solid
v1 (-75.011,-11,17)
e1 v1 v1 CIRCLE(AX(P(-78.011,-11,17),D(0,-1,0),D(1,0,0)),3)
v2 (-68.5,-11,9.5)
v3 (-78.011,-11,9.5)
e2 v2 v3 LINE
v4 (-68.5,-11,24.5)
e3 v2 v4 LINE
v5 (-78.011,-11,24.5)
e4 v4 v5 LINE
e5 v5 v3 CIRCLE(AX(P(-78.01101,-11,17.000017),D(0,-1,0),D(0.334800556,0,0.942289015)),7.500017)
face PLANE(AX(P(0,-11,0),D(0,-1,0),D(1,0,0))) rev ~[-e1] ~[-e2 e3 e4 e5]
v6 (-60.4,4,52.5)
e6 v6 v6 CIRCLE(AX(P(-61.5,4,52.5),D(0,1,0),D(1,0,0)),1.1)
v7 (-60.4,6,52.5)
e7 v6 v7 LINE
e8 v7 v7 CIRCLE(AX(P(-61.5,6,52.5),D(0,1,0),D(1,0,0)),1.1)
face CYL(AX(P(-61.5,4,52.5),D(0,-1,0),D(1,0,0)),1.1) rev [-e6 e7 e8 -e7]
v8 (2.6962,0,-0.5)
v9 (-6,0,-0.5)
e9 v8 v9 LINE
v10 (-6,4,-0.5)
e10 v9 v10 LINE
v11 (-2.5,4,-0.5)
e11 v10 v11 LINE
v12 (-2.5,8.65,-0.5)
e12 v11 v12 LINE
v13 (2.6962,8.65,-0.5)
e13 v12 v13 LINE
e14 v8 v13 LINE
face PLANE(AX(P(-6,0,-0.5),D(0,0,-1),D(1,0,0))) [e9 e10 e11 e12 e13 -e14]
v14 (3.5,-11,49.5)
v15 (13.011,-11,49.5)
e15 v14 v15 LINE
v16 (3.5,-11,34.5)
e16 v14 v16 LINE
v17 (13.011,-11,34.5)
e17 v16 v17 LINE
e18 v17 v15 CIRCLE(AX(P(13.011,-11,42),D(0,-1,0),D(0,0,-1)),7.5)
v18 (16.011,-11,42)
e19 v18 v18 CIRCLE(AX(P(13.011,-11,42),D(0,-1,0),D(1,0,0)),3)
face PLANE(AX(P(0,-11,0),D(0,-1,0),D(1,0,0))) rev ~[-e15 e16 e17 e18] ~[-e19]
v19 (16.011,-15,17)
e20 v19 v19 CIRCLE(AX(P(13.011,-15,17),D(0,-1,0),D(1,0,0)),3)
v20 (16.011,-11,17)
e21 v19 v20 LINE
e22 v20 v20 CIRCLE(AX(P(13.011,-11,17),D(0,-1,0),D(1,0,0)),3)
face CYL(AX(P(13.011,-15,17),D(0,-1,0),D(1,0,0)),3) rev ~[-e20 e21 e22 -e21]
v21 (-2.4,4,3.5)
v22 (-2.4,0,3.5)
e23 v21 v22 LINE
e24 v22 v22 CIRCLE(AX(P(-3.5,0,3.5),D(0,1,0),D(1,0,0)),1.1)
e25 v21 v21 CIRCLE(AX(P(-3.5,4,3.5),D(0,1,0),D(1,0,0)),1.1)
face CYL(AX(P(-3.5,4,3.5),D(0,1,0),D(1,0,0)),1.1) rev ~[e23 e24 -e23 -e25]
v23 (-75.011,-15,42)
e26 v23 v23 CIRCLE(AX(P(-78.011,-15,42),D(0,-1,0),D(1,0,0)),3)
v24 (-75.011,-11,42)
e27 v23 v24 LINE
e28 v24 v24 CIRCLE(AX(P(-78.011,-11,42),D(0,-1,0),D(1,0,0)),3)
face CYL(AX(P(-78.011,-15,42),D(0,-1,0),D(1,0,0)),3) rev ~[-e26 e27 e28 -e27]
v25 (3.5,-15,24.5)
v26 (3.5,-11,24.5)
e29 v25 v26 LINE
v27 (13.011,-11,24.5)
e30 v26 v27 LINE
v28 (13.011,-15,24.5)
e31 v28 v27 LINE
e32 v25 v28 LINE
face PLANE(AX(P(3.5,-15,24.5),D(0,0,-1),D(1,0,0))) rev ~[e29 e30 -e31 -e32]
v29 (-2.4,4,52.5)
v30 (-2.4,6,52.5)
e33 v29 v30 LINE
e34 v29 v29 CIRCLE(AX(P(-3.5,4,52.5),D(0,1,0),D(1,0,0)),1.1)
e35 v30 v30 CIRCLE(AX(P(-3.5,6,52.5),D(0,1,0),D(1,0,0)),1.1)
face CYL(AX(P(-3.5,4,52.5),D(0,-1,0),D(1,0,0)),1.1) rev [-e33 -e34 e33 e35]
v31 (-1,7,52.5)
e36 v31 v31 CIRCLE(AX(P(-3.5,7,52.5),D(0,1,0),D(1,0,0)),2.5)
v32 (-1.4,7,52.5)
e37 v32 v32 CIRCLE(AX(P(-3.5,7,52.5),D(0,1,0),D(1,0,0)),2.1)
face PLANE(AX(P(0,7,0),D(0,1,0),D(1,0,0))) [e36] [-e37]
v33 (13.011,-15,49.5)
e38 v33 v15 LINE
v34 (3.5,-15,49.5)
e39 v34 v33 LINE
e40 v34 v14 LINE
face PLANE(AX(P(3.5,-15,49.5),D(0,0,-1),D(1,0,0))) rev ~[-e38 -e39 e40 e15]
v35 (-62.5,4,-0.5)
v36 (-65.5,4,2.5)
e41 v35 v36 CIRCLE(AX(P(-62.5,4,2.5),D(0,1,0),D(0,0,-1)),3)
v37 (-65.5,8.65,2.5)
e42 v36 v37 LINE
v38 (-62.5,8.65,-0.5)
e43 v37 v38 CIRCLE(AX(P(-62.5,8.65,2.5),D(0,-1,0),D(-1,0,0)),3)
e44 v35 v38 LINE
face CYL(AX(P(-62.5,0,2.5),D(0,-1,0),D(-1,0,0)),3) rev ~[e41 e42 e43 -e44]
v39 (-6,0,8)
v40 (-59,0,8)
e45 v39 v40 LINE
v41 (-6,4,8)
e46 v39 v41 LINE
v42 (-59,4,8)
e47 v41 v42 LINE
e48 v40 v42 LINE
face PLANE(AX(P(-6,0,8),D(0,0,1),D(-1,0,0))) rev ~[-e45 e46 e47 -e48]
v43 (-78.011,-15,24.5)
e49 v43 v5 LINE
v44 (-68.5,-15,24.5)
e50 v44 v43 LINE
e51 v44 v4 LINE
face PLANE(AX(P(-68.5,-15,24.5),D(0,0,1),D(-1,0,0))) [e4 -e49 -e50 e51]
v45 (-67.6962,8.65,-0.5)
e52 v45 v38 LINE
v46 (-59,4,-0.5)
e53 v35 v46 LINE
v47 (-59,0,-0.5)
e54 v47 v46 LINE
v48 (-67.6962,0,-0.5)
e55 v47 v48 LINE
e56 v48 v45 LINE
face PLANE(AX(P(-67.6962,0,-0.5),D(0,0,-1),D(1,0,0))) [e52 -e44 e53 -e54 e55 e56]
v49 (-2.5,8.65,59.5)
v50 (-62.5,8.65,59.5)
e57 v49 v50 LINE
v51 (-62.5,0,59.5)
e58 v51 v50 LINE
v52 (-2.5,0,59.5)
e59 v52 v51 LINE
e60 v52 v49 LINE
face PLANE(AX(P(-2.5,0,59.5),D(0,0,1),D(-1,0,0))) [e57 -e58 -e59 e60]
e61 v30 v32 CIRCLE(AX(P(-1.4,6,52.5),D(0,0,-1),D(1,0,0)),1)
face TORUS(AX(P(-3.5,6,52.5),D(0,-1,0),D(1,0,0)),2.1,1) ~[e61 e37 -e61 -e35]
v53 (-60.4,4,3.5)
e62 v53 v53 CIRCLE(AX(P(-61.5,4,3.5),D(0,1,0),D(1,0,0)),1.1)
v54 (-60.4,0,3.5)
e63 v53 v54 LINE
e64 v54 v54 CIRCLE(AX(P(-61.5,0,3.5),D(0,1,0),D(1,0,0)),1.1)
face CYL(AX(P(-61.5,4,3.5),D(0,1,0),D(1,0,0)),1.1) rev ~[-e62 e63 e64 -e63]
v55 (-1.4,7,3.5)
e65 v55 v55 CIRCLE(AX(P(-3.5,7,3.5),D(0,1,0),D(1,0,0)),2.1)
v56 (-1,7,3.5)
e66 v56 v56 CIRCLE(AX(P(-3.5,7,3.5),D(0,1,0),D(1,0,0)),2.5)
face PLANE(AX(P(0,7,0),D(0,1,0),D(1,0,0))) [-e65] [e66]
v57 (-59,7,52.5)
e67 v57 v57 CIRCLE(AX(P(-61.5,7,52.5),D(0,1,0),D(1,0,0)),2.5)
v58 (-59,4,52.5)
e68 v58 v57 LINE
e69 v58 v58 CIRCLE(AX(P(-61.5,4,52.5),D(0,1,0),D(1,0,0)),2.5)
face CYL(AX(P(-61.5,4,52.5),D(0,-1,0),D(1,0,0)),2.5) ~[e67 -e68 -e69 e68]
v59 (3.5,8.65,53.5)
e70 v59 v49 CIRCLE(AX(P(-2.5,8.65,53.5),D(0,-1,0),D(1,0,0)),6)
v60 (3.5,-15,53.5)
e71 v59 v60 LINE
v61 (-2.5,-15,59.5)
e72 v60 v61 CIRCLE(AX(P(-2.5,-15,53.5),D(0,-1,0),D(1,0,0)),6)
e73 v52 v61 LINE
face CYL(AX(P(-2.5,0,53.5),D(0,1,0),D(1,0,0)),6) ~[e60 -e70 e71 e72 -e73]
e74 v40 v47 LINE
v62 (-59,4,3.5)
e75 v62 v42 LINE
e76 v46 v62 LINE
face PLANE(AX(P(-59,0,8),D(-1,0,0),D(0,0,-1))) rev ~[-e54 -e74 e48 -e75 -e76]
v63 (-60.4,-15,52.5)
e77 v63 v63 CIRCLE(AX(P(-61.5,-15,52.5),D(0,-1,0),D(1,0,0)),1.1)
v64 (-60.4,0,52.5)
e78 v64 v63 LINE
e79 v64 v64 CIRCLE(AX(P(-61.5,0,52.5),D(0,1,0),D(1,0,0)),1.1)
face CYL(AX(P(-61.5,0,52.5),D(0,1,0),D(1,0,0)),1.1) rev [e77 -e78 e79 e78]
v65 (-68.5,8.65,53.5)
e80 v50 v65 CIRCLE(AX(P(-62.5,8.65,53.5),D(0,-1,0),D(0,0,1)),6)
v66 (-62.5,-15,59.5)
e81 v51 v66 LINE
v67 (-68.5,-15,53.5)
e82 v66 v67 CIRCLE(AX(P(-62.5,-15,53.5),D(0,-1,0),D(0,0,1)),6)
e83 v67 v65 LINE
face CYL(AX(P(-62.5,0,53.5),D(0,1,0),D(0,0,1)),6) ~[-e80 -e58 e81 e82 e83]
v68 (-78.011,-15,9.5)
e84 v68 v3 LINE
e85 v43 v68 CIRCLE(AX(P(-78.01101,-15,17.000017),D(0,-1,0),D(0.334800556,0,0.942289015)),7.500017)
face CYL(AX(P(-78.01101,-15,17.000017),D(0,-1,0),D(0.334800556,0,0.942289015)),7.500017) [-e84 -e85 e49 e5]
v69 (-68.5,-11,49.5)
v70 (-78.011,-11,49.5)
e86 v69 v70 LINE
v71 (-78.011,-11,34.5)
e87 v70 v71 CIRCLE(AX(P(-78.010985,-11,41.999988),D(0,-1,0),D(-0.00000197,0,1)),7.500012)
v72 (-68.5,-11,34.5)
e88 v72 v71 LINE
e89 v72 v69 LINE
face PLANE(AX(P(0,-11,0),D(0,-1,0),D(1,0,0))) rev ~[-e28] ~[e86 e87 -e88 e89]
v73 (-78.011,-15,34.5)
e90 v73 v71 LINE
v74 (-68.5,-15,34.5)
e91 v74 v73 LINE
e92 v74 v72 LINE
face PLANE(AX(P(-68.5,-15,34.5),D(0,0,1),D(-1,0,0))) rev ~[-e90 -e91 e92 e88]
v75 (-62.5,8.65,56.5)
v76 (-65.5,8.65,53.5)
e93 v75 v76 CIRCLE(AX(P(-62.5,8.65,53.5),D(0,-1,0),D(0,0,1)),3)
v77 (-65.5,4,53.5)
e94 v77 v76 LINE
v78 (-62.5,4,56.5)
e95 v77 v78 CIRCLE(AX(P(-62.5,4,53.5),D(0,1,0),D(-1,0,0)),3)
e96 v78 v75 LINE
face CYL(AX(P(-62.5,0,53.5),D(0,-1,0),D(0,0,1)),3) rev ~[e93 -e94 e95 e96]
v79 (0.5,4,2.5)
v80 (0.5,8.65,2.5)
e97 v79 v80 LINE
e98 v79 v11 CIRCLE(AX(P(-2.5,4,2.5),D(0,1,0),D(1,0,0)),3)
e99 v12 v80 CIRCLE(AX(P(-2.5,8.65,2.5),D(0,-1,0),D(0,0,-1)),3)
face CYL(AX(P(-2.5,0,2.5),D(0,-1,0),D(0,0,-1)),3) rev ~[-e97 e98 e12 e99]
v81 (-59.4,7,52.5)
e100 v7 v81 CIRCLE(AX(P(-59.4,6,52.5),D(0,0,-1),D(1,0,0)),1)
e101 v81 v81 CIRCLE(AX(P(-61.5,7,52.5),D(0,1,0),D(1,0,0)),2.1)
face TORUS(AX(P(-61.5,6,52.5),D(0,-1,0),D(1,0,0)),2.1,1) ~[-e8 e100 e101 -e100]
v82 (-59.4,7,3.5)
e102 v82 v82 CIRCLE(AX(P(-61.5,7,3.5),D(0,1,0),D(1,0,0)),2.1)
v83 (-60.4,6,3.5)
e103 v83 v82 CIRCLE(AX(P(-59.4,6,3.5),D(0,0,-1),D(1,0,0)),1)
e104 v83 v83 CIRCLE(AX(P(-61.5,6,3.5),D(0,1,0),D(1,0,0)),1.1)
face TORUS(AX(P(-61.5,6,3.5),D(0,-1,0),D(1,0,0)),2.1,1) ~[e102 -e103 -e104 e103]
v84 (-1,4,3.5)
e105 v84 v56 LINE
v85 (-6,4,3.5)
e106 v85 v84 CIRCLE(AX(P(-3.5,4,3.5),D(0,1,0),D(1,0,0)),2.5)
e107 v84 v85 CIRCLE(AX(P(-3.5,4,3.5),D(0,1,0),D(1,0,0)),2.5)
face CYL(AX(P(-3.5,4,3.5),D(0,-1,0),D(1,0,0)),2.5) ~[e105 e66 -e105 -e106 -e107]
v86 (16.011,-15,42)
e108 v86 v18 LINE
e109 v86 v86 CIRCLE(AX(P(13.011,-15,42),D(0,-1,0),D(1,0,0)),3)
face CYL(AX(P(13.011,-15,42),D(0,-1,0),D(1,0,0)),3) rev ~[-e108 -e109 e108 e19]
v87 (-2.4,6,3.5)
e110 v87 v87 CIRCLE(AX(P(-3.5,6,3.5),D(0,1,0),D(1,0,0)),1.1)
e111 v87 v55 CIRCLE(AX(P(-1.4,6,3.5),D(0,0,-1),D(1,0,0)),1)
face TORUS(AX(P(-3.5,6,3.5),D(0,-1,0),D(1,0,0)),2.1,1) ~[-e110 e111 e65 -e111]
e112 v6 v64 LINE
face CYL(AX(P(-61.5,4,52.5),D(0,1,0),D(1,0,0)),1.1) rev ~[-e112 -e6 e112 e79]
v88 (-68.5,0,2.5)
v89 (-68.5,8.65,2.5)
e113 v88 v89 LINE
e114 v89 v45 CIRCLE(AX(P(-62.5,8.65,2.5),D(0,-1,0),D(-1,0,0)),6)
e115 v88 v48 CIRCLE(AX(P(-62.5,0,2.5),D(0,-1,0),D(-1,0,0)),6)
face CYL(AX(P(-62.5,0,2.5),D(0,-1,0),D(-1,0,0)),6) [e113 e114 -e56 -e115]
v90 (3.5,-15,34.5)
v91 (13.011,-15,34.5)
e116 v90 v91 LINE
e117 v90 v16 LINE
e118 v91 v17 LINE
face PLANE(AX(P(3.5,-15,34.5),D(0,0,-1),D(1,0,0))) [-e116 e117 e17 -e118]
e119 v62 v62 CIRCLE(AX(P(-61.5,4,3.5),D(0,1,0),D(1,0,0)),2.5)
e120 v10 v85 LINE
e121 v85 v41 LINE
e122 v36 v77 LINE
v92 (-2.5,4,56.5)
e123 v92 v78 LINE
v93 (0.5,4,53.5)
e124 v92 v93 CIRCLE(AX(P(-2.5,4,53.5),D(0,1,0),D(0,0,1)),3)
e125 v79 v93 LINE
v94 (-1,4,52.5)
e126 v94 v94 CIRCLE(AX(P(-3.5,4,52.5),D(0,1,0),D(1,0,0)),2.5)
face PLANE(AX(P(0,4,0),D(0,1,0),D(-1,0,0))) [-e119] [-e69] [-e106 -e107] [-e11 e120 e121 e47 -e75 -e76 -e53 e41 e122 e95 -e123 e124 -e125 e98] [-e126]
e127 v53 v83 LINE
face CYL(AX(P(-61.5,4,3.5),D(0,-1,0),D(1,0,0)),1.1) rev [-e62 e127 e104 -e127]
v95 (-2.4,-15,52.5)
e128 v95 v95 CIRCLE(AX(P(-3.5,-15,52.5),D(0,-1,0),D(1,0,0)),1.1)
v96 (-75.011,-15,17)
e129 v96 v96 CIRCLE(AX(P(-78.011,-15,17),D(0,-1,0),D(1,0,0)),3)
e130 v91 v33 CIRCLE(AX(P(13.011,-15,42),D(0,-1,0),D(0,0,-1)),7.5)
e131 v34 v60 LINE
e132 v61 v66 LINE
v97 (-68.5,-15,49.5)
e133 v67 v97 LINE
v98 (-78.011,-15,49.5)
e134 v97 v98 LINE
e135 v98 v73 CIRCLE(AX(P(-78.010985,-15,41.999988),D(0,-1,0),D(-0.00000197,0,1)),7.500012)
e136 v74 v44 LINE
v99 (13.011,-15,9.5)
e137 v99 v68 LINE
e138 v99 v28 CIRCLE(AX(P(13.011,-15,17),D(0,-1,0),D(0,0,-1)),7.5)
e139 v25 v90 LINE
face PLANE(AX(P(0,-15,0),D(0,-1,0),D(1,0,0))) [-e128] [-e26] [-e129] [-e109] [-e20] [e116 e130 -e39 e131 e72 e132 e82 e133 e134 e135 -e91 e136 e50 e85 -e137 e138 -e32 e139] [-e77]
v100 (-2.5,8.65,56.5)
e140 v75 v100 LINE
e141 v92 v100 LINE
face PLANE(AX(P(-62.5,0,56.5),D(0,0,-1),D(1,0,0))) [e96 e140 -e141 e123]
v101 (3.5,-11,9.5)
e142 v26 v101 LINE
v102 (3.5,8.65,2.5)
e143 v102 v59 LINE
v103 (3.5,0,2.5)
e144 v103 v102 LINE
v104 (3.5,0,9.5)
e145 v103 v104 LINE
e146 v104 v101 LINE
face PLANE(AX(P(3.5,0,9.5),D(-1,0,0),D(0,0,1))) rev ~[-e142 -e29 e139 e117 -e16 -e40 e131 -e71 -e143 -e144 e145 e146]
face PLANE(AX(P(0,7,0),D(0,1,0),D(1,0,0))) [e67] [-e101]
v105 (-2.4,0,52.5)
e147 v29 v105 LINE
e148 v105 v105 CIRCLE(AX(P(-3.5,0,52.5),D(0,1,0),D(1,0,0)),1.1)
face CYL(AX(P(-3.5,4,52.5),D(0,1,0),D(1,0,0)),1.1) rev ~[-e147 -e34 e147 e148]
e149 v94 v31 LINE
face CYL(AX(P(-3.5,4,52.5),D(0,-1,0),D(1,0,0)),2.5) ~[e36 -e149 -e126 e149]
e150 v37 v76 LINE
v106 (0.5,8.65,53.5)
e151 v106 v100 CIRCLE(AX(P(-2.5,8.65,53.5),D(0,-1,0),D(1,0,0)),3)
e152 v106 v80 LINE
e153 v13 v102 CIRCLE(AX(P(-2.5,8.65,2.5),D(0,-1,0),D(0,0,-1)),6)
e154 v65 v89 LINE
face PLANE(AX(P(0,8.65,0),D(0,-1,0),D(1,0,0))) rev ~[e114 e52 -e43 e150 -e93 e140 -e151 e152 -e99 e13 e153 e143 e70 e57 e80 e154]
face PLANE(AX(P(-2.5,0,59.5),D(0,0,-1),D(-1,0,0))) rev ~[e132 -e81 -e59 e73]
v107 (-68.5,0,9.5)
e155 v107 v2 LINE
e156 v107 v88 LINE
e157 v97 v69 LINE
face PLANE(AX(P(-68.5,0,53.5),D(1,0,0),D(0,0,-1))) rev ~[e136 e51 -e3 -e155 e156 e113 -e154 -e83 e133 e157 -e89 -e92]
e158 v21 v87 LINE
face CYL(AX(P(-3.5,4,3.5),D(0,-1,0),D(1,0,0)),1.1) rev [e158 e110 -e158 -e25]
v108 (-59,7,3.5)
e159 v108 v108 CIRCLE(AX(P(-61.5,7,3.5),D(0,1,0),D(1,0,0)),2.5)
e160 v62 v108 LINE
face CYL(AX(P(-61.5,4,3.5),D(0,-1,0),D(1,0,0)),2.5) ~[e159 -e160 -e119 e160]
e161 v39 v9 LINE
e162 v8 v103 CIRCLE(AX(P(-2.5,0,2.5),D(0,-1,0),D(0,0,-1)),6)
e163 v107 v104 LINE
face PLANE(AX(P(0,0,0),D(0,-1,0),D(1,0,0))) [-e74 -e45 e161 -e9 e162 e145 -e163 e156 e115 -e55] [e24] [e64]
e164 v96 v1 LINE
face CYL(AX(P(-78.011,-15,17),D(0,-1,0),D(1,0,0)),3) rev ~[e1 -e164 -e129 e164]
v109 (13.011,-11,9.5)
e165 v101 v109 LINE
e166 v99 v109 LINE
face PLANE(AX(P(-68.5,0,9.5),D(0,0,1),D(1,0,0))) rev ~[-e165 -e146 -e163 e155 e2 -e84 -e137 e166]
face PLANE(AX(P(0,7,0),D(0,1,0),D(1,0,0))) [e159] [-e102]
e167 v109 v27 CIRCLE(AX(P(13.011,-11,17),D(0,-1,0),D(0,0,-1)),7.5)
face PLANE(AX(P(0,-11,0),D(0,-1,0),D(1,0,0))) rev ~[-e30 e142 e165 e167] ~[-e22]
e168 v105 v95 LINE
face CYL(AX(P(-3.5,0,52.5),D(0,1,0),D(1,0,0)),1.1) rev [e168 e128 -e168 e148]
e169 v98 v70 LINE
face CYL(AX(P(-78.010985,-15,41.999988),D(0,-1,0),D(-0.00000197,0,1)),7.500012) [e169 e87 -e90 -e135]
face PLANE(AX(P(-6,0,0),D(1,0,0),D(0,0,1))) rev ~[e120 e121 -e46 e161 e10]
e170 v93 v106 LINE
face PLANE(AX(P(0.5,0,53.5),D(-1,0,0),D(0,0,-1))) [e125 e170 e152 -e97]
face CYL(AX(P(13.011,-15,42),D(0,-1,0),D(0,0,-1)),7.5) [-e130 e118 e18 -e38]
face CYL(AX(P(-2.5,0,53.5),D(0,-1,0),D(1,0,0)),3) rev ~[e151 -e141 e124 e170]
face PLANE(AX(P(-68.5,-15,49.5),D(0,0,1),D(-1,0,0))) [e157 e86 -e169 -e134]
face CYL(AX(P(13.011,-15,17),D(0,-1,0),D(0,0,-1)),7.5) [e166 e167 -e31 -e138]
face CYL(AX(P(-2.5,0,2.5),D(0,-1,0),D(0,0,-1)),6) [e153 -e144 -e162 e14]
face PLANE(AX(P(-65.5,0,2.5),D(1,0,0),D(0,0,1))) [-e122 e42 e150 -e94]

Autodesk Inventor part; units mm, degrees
ref_plane "YZ Plane" through (0, 0, 0) normal (1, 0, 0) x (0, 1, 0)
ref_plane "XZ Plane" through (0, 0, 0) normal (0, 1, 0) x (-1, 0, 0)
ref_plane "XY Plane" through (0, 0, 0) normal (0, 0, 1) x (1, 0, 0)
sketch "Sketch1" plane through (0, 0, 0) normal (0, 1, 0) x (-1, 0, 0)
  line L0 (2.5, 0) -> (62.5, 0)
  line L1 (65, 37.5) -> (65, 53.5)
  line L2 (62.5, 56) -> (2.5, 56)
  line L3 (0, 53.5) -> (0, 2.5)
  line L4 (64.5, 37) -> (63, 37)
  line L5 (62.5, 36.5) -> (62.5, 19.5)
  line L6 (63, 19) -> (64.5, 19)
  line L7 (62.5, 37) -> (62.5, 56) construction
  line L8 (62.5, 19) -> (62.5, 0) construction
  arc A0 (65, 53.5) -> (62.5, 56) centre (62.5, 53.5) ccw
  arc A1 (62.5, 0) -> (65, 2.5) centre (62.5, 2.5) ccw
  arc A2 (0, 2.5) -> (2.5, 0) centre (2.5, 2.5) ccw
  arc A3 (2.5, 56) -> (0, 53.5) centre (2.5, 53.5) ccw
  arc A4 (64.5, 37) -> (65, 37.5) centre (64.5, 37.5) ccw
  arc A5 (63, 37) -> (62.5, 36.5) centre (63, 36.5) ccw
  arc A6 (62.5, 19.5) -> (63, 19) centre (63, 19.5) ccw
  line L9 (65, 18.5) -> (65, 2.5)
  arc A7 (65, 18.5) -> (64.5, 19) centre (64.5, 18.5) ccw
  line L10 (59, 0) -> (6, 0)
  line L11 (6, -0.5) -> (6, 8)
  line L12 (6, 8) -> (59, 8)
  line L13 (59, 8) -> (59, -0.5)
  line L14 (59, 8) -> (65, 8) construction
  line L15 (6, 8) -> (0, 8) construction
  line L16 (65.5, 53.5) -> (65.5, 37.5)
  arc A8 (64.5, 36.5) -> (65.5, 37.5) centre (64.5, 37.5) ccw
  line L17 (64.5, 36.5) -> (63, 36.5)
  line L18 (63, 36.5) -> (63, 19.5)
  line L19 (63, 19.5) -> (64.5, 19.5)
  arc A9 (65.5, 18.5) -> (64.5, 19.5) centre (64.5, 18.5) ccw
  line L20 (65.5, 18.5) -> (65.5, 2.5)
  arc A10 (62.5, -0.5) -> (65.5, 2.5) centre (62.5, 2.5) ccw
  line L21 (62.5, -0.5) -> (2.5, -0.5)
  arc A11 (-0.5, 2.5) -> (2.5, -0.5) centre (2.5, 2.5) ccw
  line L22 (-0.5, 2.5) -> (-0.5, 53.5)
  arc A12 (2.5, 56.5) -> (-0.5, 53.5) centre (2.5, 53.5) ccw
  line L23 (2.5, 56.5) -> (62.5, 56.5)
  arc A13 (65.5, 53.5) -> (62.5, 56.5) centre (62.5, 53.5) ccw
  line L24 (65.5, 37.5) -> (65.5, 18.5)
  point P0 (0, 0)
  point P1 (65, 56)
  point P2 (65, 0)
  point P3 (0, 56)
  point P4 (65, 19)
  dimension "d0" = 65
  dimension "d1" = 56
  dimension "d2" = 2.5
  dimension "d3" = 18
  dimension "d4" = 2.5
  dimension "d5" = 0.5
  dimension "d6" = 0.5
  dimension "d7" = 53
  dimension "d9" = 0.5
  dimension "d10" = 8
extrude "Extrusion1" add sketch "Sketch1" along normal blind 4 contours A2 L3 A3 L2 A0 L1 A4 L4 A5 L5 A6 L6 A7 L9 A1 L0 L13 L12 L11 | L0 L11 L21 A11 L22 A12 L23 A13 L16 A8 L17 L18 L19 A9 L20 A10 L13 A1 L9 A7 L6 A6 L5 A5 L4 A4 L1 A0 L2 A3 L3 A2 | A9 L19 L18 L17 A8 L24
sketch "Sketch2" plane through (0, 4, 0) normal (0, 1, 0) x (1, 0, 0)
  line L0 (-61.5, -52.5) -> (-3.5, -52.5) construction
  line L1 (-3.5, -52.5) -> (-3.5, -3.5) construction
  line L2 (-3.5, -3.5) -> (-61.5, -3.5) construction
  line L3 (-61.5, -3.5) -> (-61.5, -52.5) construction
  line L4 (-65.5, -2.5) -> (-65.5, -53.5) construction
  arc A0 (-65.5, -53.5) -> (-62.5, -56.5) centre (-62.5, -53.5) ccw construction
  line L5 (-62.5, -56.5) -> (-2.5, -56.5) construction
  arc A1 (-2.5, -56.5) -> (0.5, -53.5) centre (-2.5, -53.5) ccw construction
  line L6 (0.5, -53.5) -> (0.5, -2.5) construction
  arc A2 (0.5, -2.5) -> (-2.5, 0.5) centre (-2.5, -2.5) ccw construction
  line L7 (-2.5, 0.5) -> (-6, 0.5) construction
  line L8 (-6, 0.5) -> (-6, -8) construction
  line L9 (-6, -8) -> (-59, -8) construction
  line L10 (-59, -8) -> (-59, 0.5) construction
  line L11 (-59, 0.5) -> (-62.5, 0.5) construction
  arc A3 (-62.5, 0.5) -> (-65.5, -2.5) centre (-62.5, -2.5) ccw construction
  line L12 (-61.5, -28) -> (-65.5, -28) construction
  line L13 (-65.5, -2.5) -> (-65.5, -53.5) construction
  line L14 (-32.5, -52.5) -> (-32.5, -56.5) construction
  line L15 (-62.5, -56.5) -> (-2.5, -56.5) construction
  line L16 (-3.5, -26.1525) -> (0.5, -26.1525) construction
  line L17 (0.5, -53.5) -> (0.5, -2.5) construction
  line L18 (-5.4848, -3.5) -> (-5.4848, 0.5) construction
  line L19 (-2.5, 0.5) -> (-6, 0.5) construction
  circle A4 centre (-61.5, -52.5) radius 1.1
  circle A5 centre (-61.5, -3.5) radius 1.1
  circle A6 centre (-3.5, -52.5) radius 1.1
  circle A7 centre (-3.5, -3.5) radius 1.1
  circle A8 centre (-61.5, -52.5) radius 2.5
  circle A9 centre (-61.5, -3.5) radius 2.5
  circle A10 centre (-3.5, -3.5) radius 2.5
  circle A11 centre (-3.5, -52.5) radius 2.5
  point P0 (0, 0)
  dimension "d13" = 58
  dimension "d14" = 49
  dimension "d15" = 2.2
  dimension "d16" = 2.2
  dimension "d17" = 2.2
  dimension "d18" = 2.2
  dimension "d19" = 5
  dimension "d20" = 5
  dimension "d21" = 5
  dimension "d22" = 5
extrude "Extrusion2" add sketch "Sketch2" along normal blind 3
sketch "Sketch3" plane through (-3.5, 4, 3.5) normal (0, 1, 0) x (1, 0, 0)
  circle A0 centre (0, 0) radius 1.1 projected
  circle A1 centre (0, -49) radius 1.1 projected
  circle A2 centre (-58, -49) radius 1.1 projected
  circle A3 centre (-58, 0) radius 1.1 projected
  point P0 (3.5, 3.5)
extrude "Extrusion3" cut sketch "Sketch3" against normal blind 4
sketch "Sketch4" plane through (0, 0, 0) normal (0, -1, 0) x (1, 0, 0)
  circle A0 centre (-61.5, 52.5) radius 1.1 projected
  circle A1 centre (-3.5, 52.5) radius 1.1 projected
  circle A2 centre (-61.5, 3.5) radius 1.1 projected
  circle A3 centre (-3.5, 3.5) radius 1.1 projected
  line L0 (-65.5, 2.5) -> (-65.5, 53.5) projected
  arc A4 (-65.5, 2.5) -> (-62.5, -0.5) centre (-62.5, 2.5) ccw projected
  line L1 (-59, -0.5) -> (-62.5, -0.5) projected
  line L2 (-59, 8) -> (-59, -0.5) projected
  line L3 (-6, 8) -> (-59, 8) projected
  line L4 (-6, -0.5) -> (-6, 8) projected
  line L5 (-2.5, -0.5) -> (-6, -0.5) projected
  arc A5 (-2.5, -0.5) -> (0.5, 2.5) centre (-2.5, 2.5) ccw projected
  line L6 (0.5, 53.5) -> (0.5, 2.5) projected
  arc A6 (0.5, 53.5) -> (-2.5, 56.5) centre (-2.5, 53.5) ccw projected
  line L7 (-62.5, 56.5) -> (-2.5, 56.5) projected
  arc A7 (-62.5, 56.5) -> (-65.5, 53.5) centre (-62.5, 53.5) ccw projected
  line L8 (-68.5, 53.5) -> (-68.5, 2.5)
  arc A8 (-68.5, 2.5) -> (-62.5, -3.5) centre (-62.5, 2.5) ccw
  line L9 (-62.5, -3.5) -> (-56, -3.5)
  line L10 (-56, -3.5) -> (-56, 5)
  line L11 (-56, 5) -> (-9, 5)
  line L12 (-9, 5) -> (-9, -3.5)
  line L13 (-9, -3.5) -> (-2.5, -3.5)
  arc A9 (-2.5, -3.5) -> (3.5, 2.5) centre (-2.5, 2.5) ccw
  line L14 (3.5, 2.5) -> (3.5, 53.5)
  arc A10 (3.5, 53.5) -> (-2.5, 59.5) centre (-2.5, 53.5) ccw
  line L15 (-2.5, 59.5) -> (-62.5, 59.5)
  arc A11 (-62.5, 59.5) -> (-68.5, 53.5) centre (-62.5, 53.5) ccw
  line L16 (-67.6962, -0.5) -> (2.6962, -0.5)
  point P0 (0, 0)
  point P1 (-62.5, -0.5)
  dimension "d27" = 3
extrude "Extrusion4" add sketch "Sketch4" against normal blind 8.65 contours A4 L16 A8 L8 A11 L15 A10 L14 A9 A5 L6 A6 L7 A7 L0
sketch "Sketch5" plane through (0, 0, 0) normal (0, -1, 0) x (1, 0, 0)
  circle A0 centre (-61.5, 52.5) radius 1.1 projected
  circle A1 centre (-3.5, 52.5) radius 1.1 projected
  circle A2 centre (-61.5, 3.5) radius 1.1 projected
  circle A3 centre (-3.5, 3.5) radius 1.1 projected
  line L0 (-6, -0.5) -> (2.6962, -0.5) projected
  arc A4 (2.6962, -0.5) -> (3.5, 2.5) centre (-2.5, 2.5) ccw projected
  line L1 (3.5, 2.5) -> (3.5, 53.5) projected
  arc A5 (3.5, 53.5) -> (-2.5, 59.5) centre (-2.5, 53.5) ccw projected
  line L2 (-2.5, 59.5) -> (-62.5, 59.5) projected
  arc A6 (-62.5, 59.5) -> (-68.5, 53.5) centre (-62.5, 53.5) ccw projected
  line L3 (-68.5, 53.5) -> (-68.5, 2.5) projected
  arc A7 (-68.5, 2.5) -> (-67.6962, -0.5) centre (-62.5, 2.5) ccw projected
  line L4 (-59, -0.5) -> (-67.6962, -0.5) projected
  line L5 (-59, 8) -> (-59, -0.5) projected
  line L6 (-6, 8) -> (-59, 8) projected
  line L7 (-6, -0.5) -> (-6, 8) projected
  line L8 (-68.5, 53.5) -> (-68.5, 2.5) projected
  line L9 (-68.5, 9.5) -> (3.5, 9.5)
  line L10 (3.5, 53.5) -> (3.5, 2.5) projected
  point P0 (0, 0)
  point P1 (3.5, 9.5)
  dimension "d30" = 10
extrude "Extrusion5" add sketch "Sketch5" along normal blind 15 contours L9 L3 A6 L2 A5 L1
sketch "Sketch6" plane through (0, -15, 0) normal (0, -1, 0) x (1, 0, 0)
  line L0 (-82.5, -4.1741) -> (-82.5, 71.2939) construction
  line L1 (-62.5, 59.5) -> (-2.5, 59.5) construction
  line L2 (-82.5, 17) -> (-68.5, 17) construction
  line L3 (-68.5, 53.5) -> (-68.5, 9.5) construction
  line L4 (-82.5, 42) -> (-68.5, 42) construction
  line L5 (-75.5, 17) -> (-75.5, 42) construction
  line L6 (-6, -0.5) -> (2.6962, -0.5) construction
  circle A0 centre (-78.011, 17) radius 3
  arc A1 (-75.5, 24.0672) -> (-78.011, 9.5) centre (-78.011, 17) ccw
  line L7 (-68.5, 9.5) -> (-78.011, 9.5)
  line L8 (-68.5, 9.5) -> (3.5, 9.5) projected
  line L9 (-68.5, 24.5) -> (-78.011, 24.5)
  line L10 (-75.5, 29.5) -> (-82.5, 29.5) construction
  circle A2 centre (-78.011, 42) radius 3
  arc A3 (-78.011, 49.5) -> (-75.5, 34.9328) centre (-78.011, 42) ccw
  line L11 (-68.5, 49.5) -> (-78.011, 49.5)
  line L12 (-68.5, 34.5) -> (-78.011, 34.5)
  line L13 (-32.5, 59.5) -> (-32.5, 87.6423) construction
  circle A4 centre (13.011, 17) radius 3
  arc A5 (13.011, 9.5) -> (13.011, 24.5) centre (13.011, 17) ccw
  line L14 (3.5, 9.5) -> (13.011, 9.5)
  line L15 (3.5, 24.5) -> (13.011, 24.5)
  line L16 (3.5, 34.5) -> (13.011, 34.5)
  arc A6 (13.011, 34.5) -> (13.011, 49.5) centre (13.011, 42) ccw
  circle A7 centre (13.011, 42) radius 3
  line L17 (3.5, 49.5) -> (13.011, 49.5)
  line L18 (3.5, 53.5) -> (3.5, 2.5) projected
  line L19 (-68.5, 2.5) -> (-68.5, 53.5) projected
  point P0 (0, 0)
  point P1 (17.5, 17)
  point P2 (10.5, 17)
  point P3 (10.5, 42)
  dimension "d33" = 50
  dimension "d34" = 60
  dimension "d35" = 30
  dimension "d36" = 25
  dimension "d37" = 6
extrude "Extrusion6" add sketch "Sketch6" against normal blind 4
fillet "Fillet1" radius 1 4 edges at (-4.6, 7, 52.5) (-62.6, 7, 52.5) (-4.6, 7, 3.5) (-62.6, 7, 3.5)
equation "\"d5\" = d6"
equation "\"d16\" = d15"
equation "\"d17\" = d15"
equation "\"d18\" = d15"
equation "\"d20\" = d19"
equation "\"d21\" = d19"
equation "\"d22\" = d19"
equation "\"d35\" = 0.5 * d34"
properties part number "Pi GPIO Mount"
